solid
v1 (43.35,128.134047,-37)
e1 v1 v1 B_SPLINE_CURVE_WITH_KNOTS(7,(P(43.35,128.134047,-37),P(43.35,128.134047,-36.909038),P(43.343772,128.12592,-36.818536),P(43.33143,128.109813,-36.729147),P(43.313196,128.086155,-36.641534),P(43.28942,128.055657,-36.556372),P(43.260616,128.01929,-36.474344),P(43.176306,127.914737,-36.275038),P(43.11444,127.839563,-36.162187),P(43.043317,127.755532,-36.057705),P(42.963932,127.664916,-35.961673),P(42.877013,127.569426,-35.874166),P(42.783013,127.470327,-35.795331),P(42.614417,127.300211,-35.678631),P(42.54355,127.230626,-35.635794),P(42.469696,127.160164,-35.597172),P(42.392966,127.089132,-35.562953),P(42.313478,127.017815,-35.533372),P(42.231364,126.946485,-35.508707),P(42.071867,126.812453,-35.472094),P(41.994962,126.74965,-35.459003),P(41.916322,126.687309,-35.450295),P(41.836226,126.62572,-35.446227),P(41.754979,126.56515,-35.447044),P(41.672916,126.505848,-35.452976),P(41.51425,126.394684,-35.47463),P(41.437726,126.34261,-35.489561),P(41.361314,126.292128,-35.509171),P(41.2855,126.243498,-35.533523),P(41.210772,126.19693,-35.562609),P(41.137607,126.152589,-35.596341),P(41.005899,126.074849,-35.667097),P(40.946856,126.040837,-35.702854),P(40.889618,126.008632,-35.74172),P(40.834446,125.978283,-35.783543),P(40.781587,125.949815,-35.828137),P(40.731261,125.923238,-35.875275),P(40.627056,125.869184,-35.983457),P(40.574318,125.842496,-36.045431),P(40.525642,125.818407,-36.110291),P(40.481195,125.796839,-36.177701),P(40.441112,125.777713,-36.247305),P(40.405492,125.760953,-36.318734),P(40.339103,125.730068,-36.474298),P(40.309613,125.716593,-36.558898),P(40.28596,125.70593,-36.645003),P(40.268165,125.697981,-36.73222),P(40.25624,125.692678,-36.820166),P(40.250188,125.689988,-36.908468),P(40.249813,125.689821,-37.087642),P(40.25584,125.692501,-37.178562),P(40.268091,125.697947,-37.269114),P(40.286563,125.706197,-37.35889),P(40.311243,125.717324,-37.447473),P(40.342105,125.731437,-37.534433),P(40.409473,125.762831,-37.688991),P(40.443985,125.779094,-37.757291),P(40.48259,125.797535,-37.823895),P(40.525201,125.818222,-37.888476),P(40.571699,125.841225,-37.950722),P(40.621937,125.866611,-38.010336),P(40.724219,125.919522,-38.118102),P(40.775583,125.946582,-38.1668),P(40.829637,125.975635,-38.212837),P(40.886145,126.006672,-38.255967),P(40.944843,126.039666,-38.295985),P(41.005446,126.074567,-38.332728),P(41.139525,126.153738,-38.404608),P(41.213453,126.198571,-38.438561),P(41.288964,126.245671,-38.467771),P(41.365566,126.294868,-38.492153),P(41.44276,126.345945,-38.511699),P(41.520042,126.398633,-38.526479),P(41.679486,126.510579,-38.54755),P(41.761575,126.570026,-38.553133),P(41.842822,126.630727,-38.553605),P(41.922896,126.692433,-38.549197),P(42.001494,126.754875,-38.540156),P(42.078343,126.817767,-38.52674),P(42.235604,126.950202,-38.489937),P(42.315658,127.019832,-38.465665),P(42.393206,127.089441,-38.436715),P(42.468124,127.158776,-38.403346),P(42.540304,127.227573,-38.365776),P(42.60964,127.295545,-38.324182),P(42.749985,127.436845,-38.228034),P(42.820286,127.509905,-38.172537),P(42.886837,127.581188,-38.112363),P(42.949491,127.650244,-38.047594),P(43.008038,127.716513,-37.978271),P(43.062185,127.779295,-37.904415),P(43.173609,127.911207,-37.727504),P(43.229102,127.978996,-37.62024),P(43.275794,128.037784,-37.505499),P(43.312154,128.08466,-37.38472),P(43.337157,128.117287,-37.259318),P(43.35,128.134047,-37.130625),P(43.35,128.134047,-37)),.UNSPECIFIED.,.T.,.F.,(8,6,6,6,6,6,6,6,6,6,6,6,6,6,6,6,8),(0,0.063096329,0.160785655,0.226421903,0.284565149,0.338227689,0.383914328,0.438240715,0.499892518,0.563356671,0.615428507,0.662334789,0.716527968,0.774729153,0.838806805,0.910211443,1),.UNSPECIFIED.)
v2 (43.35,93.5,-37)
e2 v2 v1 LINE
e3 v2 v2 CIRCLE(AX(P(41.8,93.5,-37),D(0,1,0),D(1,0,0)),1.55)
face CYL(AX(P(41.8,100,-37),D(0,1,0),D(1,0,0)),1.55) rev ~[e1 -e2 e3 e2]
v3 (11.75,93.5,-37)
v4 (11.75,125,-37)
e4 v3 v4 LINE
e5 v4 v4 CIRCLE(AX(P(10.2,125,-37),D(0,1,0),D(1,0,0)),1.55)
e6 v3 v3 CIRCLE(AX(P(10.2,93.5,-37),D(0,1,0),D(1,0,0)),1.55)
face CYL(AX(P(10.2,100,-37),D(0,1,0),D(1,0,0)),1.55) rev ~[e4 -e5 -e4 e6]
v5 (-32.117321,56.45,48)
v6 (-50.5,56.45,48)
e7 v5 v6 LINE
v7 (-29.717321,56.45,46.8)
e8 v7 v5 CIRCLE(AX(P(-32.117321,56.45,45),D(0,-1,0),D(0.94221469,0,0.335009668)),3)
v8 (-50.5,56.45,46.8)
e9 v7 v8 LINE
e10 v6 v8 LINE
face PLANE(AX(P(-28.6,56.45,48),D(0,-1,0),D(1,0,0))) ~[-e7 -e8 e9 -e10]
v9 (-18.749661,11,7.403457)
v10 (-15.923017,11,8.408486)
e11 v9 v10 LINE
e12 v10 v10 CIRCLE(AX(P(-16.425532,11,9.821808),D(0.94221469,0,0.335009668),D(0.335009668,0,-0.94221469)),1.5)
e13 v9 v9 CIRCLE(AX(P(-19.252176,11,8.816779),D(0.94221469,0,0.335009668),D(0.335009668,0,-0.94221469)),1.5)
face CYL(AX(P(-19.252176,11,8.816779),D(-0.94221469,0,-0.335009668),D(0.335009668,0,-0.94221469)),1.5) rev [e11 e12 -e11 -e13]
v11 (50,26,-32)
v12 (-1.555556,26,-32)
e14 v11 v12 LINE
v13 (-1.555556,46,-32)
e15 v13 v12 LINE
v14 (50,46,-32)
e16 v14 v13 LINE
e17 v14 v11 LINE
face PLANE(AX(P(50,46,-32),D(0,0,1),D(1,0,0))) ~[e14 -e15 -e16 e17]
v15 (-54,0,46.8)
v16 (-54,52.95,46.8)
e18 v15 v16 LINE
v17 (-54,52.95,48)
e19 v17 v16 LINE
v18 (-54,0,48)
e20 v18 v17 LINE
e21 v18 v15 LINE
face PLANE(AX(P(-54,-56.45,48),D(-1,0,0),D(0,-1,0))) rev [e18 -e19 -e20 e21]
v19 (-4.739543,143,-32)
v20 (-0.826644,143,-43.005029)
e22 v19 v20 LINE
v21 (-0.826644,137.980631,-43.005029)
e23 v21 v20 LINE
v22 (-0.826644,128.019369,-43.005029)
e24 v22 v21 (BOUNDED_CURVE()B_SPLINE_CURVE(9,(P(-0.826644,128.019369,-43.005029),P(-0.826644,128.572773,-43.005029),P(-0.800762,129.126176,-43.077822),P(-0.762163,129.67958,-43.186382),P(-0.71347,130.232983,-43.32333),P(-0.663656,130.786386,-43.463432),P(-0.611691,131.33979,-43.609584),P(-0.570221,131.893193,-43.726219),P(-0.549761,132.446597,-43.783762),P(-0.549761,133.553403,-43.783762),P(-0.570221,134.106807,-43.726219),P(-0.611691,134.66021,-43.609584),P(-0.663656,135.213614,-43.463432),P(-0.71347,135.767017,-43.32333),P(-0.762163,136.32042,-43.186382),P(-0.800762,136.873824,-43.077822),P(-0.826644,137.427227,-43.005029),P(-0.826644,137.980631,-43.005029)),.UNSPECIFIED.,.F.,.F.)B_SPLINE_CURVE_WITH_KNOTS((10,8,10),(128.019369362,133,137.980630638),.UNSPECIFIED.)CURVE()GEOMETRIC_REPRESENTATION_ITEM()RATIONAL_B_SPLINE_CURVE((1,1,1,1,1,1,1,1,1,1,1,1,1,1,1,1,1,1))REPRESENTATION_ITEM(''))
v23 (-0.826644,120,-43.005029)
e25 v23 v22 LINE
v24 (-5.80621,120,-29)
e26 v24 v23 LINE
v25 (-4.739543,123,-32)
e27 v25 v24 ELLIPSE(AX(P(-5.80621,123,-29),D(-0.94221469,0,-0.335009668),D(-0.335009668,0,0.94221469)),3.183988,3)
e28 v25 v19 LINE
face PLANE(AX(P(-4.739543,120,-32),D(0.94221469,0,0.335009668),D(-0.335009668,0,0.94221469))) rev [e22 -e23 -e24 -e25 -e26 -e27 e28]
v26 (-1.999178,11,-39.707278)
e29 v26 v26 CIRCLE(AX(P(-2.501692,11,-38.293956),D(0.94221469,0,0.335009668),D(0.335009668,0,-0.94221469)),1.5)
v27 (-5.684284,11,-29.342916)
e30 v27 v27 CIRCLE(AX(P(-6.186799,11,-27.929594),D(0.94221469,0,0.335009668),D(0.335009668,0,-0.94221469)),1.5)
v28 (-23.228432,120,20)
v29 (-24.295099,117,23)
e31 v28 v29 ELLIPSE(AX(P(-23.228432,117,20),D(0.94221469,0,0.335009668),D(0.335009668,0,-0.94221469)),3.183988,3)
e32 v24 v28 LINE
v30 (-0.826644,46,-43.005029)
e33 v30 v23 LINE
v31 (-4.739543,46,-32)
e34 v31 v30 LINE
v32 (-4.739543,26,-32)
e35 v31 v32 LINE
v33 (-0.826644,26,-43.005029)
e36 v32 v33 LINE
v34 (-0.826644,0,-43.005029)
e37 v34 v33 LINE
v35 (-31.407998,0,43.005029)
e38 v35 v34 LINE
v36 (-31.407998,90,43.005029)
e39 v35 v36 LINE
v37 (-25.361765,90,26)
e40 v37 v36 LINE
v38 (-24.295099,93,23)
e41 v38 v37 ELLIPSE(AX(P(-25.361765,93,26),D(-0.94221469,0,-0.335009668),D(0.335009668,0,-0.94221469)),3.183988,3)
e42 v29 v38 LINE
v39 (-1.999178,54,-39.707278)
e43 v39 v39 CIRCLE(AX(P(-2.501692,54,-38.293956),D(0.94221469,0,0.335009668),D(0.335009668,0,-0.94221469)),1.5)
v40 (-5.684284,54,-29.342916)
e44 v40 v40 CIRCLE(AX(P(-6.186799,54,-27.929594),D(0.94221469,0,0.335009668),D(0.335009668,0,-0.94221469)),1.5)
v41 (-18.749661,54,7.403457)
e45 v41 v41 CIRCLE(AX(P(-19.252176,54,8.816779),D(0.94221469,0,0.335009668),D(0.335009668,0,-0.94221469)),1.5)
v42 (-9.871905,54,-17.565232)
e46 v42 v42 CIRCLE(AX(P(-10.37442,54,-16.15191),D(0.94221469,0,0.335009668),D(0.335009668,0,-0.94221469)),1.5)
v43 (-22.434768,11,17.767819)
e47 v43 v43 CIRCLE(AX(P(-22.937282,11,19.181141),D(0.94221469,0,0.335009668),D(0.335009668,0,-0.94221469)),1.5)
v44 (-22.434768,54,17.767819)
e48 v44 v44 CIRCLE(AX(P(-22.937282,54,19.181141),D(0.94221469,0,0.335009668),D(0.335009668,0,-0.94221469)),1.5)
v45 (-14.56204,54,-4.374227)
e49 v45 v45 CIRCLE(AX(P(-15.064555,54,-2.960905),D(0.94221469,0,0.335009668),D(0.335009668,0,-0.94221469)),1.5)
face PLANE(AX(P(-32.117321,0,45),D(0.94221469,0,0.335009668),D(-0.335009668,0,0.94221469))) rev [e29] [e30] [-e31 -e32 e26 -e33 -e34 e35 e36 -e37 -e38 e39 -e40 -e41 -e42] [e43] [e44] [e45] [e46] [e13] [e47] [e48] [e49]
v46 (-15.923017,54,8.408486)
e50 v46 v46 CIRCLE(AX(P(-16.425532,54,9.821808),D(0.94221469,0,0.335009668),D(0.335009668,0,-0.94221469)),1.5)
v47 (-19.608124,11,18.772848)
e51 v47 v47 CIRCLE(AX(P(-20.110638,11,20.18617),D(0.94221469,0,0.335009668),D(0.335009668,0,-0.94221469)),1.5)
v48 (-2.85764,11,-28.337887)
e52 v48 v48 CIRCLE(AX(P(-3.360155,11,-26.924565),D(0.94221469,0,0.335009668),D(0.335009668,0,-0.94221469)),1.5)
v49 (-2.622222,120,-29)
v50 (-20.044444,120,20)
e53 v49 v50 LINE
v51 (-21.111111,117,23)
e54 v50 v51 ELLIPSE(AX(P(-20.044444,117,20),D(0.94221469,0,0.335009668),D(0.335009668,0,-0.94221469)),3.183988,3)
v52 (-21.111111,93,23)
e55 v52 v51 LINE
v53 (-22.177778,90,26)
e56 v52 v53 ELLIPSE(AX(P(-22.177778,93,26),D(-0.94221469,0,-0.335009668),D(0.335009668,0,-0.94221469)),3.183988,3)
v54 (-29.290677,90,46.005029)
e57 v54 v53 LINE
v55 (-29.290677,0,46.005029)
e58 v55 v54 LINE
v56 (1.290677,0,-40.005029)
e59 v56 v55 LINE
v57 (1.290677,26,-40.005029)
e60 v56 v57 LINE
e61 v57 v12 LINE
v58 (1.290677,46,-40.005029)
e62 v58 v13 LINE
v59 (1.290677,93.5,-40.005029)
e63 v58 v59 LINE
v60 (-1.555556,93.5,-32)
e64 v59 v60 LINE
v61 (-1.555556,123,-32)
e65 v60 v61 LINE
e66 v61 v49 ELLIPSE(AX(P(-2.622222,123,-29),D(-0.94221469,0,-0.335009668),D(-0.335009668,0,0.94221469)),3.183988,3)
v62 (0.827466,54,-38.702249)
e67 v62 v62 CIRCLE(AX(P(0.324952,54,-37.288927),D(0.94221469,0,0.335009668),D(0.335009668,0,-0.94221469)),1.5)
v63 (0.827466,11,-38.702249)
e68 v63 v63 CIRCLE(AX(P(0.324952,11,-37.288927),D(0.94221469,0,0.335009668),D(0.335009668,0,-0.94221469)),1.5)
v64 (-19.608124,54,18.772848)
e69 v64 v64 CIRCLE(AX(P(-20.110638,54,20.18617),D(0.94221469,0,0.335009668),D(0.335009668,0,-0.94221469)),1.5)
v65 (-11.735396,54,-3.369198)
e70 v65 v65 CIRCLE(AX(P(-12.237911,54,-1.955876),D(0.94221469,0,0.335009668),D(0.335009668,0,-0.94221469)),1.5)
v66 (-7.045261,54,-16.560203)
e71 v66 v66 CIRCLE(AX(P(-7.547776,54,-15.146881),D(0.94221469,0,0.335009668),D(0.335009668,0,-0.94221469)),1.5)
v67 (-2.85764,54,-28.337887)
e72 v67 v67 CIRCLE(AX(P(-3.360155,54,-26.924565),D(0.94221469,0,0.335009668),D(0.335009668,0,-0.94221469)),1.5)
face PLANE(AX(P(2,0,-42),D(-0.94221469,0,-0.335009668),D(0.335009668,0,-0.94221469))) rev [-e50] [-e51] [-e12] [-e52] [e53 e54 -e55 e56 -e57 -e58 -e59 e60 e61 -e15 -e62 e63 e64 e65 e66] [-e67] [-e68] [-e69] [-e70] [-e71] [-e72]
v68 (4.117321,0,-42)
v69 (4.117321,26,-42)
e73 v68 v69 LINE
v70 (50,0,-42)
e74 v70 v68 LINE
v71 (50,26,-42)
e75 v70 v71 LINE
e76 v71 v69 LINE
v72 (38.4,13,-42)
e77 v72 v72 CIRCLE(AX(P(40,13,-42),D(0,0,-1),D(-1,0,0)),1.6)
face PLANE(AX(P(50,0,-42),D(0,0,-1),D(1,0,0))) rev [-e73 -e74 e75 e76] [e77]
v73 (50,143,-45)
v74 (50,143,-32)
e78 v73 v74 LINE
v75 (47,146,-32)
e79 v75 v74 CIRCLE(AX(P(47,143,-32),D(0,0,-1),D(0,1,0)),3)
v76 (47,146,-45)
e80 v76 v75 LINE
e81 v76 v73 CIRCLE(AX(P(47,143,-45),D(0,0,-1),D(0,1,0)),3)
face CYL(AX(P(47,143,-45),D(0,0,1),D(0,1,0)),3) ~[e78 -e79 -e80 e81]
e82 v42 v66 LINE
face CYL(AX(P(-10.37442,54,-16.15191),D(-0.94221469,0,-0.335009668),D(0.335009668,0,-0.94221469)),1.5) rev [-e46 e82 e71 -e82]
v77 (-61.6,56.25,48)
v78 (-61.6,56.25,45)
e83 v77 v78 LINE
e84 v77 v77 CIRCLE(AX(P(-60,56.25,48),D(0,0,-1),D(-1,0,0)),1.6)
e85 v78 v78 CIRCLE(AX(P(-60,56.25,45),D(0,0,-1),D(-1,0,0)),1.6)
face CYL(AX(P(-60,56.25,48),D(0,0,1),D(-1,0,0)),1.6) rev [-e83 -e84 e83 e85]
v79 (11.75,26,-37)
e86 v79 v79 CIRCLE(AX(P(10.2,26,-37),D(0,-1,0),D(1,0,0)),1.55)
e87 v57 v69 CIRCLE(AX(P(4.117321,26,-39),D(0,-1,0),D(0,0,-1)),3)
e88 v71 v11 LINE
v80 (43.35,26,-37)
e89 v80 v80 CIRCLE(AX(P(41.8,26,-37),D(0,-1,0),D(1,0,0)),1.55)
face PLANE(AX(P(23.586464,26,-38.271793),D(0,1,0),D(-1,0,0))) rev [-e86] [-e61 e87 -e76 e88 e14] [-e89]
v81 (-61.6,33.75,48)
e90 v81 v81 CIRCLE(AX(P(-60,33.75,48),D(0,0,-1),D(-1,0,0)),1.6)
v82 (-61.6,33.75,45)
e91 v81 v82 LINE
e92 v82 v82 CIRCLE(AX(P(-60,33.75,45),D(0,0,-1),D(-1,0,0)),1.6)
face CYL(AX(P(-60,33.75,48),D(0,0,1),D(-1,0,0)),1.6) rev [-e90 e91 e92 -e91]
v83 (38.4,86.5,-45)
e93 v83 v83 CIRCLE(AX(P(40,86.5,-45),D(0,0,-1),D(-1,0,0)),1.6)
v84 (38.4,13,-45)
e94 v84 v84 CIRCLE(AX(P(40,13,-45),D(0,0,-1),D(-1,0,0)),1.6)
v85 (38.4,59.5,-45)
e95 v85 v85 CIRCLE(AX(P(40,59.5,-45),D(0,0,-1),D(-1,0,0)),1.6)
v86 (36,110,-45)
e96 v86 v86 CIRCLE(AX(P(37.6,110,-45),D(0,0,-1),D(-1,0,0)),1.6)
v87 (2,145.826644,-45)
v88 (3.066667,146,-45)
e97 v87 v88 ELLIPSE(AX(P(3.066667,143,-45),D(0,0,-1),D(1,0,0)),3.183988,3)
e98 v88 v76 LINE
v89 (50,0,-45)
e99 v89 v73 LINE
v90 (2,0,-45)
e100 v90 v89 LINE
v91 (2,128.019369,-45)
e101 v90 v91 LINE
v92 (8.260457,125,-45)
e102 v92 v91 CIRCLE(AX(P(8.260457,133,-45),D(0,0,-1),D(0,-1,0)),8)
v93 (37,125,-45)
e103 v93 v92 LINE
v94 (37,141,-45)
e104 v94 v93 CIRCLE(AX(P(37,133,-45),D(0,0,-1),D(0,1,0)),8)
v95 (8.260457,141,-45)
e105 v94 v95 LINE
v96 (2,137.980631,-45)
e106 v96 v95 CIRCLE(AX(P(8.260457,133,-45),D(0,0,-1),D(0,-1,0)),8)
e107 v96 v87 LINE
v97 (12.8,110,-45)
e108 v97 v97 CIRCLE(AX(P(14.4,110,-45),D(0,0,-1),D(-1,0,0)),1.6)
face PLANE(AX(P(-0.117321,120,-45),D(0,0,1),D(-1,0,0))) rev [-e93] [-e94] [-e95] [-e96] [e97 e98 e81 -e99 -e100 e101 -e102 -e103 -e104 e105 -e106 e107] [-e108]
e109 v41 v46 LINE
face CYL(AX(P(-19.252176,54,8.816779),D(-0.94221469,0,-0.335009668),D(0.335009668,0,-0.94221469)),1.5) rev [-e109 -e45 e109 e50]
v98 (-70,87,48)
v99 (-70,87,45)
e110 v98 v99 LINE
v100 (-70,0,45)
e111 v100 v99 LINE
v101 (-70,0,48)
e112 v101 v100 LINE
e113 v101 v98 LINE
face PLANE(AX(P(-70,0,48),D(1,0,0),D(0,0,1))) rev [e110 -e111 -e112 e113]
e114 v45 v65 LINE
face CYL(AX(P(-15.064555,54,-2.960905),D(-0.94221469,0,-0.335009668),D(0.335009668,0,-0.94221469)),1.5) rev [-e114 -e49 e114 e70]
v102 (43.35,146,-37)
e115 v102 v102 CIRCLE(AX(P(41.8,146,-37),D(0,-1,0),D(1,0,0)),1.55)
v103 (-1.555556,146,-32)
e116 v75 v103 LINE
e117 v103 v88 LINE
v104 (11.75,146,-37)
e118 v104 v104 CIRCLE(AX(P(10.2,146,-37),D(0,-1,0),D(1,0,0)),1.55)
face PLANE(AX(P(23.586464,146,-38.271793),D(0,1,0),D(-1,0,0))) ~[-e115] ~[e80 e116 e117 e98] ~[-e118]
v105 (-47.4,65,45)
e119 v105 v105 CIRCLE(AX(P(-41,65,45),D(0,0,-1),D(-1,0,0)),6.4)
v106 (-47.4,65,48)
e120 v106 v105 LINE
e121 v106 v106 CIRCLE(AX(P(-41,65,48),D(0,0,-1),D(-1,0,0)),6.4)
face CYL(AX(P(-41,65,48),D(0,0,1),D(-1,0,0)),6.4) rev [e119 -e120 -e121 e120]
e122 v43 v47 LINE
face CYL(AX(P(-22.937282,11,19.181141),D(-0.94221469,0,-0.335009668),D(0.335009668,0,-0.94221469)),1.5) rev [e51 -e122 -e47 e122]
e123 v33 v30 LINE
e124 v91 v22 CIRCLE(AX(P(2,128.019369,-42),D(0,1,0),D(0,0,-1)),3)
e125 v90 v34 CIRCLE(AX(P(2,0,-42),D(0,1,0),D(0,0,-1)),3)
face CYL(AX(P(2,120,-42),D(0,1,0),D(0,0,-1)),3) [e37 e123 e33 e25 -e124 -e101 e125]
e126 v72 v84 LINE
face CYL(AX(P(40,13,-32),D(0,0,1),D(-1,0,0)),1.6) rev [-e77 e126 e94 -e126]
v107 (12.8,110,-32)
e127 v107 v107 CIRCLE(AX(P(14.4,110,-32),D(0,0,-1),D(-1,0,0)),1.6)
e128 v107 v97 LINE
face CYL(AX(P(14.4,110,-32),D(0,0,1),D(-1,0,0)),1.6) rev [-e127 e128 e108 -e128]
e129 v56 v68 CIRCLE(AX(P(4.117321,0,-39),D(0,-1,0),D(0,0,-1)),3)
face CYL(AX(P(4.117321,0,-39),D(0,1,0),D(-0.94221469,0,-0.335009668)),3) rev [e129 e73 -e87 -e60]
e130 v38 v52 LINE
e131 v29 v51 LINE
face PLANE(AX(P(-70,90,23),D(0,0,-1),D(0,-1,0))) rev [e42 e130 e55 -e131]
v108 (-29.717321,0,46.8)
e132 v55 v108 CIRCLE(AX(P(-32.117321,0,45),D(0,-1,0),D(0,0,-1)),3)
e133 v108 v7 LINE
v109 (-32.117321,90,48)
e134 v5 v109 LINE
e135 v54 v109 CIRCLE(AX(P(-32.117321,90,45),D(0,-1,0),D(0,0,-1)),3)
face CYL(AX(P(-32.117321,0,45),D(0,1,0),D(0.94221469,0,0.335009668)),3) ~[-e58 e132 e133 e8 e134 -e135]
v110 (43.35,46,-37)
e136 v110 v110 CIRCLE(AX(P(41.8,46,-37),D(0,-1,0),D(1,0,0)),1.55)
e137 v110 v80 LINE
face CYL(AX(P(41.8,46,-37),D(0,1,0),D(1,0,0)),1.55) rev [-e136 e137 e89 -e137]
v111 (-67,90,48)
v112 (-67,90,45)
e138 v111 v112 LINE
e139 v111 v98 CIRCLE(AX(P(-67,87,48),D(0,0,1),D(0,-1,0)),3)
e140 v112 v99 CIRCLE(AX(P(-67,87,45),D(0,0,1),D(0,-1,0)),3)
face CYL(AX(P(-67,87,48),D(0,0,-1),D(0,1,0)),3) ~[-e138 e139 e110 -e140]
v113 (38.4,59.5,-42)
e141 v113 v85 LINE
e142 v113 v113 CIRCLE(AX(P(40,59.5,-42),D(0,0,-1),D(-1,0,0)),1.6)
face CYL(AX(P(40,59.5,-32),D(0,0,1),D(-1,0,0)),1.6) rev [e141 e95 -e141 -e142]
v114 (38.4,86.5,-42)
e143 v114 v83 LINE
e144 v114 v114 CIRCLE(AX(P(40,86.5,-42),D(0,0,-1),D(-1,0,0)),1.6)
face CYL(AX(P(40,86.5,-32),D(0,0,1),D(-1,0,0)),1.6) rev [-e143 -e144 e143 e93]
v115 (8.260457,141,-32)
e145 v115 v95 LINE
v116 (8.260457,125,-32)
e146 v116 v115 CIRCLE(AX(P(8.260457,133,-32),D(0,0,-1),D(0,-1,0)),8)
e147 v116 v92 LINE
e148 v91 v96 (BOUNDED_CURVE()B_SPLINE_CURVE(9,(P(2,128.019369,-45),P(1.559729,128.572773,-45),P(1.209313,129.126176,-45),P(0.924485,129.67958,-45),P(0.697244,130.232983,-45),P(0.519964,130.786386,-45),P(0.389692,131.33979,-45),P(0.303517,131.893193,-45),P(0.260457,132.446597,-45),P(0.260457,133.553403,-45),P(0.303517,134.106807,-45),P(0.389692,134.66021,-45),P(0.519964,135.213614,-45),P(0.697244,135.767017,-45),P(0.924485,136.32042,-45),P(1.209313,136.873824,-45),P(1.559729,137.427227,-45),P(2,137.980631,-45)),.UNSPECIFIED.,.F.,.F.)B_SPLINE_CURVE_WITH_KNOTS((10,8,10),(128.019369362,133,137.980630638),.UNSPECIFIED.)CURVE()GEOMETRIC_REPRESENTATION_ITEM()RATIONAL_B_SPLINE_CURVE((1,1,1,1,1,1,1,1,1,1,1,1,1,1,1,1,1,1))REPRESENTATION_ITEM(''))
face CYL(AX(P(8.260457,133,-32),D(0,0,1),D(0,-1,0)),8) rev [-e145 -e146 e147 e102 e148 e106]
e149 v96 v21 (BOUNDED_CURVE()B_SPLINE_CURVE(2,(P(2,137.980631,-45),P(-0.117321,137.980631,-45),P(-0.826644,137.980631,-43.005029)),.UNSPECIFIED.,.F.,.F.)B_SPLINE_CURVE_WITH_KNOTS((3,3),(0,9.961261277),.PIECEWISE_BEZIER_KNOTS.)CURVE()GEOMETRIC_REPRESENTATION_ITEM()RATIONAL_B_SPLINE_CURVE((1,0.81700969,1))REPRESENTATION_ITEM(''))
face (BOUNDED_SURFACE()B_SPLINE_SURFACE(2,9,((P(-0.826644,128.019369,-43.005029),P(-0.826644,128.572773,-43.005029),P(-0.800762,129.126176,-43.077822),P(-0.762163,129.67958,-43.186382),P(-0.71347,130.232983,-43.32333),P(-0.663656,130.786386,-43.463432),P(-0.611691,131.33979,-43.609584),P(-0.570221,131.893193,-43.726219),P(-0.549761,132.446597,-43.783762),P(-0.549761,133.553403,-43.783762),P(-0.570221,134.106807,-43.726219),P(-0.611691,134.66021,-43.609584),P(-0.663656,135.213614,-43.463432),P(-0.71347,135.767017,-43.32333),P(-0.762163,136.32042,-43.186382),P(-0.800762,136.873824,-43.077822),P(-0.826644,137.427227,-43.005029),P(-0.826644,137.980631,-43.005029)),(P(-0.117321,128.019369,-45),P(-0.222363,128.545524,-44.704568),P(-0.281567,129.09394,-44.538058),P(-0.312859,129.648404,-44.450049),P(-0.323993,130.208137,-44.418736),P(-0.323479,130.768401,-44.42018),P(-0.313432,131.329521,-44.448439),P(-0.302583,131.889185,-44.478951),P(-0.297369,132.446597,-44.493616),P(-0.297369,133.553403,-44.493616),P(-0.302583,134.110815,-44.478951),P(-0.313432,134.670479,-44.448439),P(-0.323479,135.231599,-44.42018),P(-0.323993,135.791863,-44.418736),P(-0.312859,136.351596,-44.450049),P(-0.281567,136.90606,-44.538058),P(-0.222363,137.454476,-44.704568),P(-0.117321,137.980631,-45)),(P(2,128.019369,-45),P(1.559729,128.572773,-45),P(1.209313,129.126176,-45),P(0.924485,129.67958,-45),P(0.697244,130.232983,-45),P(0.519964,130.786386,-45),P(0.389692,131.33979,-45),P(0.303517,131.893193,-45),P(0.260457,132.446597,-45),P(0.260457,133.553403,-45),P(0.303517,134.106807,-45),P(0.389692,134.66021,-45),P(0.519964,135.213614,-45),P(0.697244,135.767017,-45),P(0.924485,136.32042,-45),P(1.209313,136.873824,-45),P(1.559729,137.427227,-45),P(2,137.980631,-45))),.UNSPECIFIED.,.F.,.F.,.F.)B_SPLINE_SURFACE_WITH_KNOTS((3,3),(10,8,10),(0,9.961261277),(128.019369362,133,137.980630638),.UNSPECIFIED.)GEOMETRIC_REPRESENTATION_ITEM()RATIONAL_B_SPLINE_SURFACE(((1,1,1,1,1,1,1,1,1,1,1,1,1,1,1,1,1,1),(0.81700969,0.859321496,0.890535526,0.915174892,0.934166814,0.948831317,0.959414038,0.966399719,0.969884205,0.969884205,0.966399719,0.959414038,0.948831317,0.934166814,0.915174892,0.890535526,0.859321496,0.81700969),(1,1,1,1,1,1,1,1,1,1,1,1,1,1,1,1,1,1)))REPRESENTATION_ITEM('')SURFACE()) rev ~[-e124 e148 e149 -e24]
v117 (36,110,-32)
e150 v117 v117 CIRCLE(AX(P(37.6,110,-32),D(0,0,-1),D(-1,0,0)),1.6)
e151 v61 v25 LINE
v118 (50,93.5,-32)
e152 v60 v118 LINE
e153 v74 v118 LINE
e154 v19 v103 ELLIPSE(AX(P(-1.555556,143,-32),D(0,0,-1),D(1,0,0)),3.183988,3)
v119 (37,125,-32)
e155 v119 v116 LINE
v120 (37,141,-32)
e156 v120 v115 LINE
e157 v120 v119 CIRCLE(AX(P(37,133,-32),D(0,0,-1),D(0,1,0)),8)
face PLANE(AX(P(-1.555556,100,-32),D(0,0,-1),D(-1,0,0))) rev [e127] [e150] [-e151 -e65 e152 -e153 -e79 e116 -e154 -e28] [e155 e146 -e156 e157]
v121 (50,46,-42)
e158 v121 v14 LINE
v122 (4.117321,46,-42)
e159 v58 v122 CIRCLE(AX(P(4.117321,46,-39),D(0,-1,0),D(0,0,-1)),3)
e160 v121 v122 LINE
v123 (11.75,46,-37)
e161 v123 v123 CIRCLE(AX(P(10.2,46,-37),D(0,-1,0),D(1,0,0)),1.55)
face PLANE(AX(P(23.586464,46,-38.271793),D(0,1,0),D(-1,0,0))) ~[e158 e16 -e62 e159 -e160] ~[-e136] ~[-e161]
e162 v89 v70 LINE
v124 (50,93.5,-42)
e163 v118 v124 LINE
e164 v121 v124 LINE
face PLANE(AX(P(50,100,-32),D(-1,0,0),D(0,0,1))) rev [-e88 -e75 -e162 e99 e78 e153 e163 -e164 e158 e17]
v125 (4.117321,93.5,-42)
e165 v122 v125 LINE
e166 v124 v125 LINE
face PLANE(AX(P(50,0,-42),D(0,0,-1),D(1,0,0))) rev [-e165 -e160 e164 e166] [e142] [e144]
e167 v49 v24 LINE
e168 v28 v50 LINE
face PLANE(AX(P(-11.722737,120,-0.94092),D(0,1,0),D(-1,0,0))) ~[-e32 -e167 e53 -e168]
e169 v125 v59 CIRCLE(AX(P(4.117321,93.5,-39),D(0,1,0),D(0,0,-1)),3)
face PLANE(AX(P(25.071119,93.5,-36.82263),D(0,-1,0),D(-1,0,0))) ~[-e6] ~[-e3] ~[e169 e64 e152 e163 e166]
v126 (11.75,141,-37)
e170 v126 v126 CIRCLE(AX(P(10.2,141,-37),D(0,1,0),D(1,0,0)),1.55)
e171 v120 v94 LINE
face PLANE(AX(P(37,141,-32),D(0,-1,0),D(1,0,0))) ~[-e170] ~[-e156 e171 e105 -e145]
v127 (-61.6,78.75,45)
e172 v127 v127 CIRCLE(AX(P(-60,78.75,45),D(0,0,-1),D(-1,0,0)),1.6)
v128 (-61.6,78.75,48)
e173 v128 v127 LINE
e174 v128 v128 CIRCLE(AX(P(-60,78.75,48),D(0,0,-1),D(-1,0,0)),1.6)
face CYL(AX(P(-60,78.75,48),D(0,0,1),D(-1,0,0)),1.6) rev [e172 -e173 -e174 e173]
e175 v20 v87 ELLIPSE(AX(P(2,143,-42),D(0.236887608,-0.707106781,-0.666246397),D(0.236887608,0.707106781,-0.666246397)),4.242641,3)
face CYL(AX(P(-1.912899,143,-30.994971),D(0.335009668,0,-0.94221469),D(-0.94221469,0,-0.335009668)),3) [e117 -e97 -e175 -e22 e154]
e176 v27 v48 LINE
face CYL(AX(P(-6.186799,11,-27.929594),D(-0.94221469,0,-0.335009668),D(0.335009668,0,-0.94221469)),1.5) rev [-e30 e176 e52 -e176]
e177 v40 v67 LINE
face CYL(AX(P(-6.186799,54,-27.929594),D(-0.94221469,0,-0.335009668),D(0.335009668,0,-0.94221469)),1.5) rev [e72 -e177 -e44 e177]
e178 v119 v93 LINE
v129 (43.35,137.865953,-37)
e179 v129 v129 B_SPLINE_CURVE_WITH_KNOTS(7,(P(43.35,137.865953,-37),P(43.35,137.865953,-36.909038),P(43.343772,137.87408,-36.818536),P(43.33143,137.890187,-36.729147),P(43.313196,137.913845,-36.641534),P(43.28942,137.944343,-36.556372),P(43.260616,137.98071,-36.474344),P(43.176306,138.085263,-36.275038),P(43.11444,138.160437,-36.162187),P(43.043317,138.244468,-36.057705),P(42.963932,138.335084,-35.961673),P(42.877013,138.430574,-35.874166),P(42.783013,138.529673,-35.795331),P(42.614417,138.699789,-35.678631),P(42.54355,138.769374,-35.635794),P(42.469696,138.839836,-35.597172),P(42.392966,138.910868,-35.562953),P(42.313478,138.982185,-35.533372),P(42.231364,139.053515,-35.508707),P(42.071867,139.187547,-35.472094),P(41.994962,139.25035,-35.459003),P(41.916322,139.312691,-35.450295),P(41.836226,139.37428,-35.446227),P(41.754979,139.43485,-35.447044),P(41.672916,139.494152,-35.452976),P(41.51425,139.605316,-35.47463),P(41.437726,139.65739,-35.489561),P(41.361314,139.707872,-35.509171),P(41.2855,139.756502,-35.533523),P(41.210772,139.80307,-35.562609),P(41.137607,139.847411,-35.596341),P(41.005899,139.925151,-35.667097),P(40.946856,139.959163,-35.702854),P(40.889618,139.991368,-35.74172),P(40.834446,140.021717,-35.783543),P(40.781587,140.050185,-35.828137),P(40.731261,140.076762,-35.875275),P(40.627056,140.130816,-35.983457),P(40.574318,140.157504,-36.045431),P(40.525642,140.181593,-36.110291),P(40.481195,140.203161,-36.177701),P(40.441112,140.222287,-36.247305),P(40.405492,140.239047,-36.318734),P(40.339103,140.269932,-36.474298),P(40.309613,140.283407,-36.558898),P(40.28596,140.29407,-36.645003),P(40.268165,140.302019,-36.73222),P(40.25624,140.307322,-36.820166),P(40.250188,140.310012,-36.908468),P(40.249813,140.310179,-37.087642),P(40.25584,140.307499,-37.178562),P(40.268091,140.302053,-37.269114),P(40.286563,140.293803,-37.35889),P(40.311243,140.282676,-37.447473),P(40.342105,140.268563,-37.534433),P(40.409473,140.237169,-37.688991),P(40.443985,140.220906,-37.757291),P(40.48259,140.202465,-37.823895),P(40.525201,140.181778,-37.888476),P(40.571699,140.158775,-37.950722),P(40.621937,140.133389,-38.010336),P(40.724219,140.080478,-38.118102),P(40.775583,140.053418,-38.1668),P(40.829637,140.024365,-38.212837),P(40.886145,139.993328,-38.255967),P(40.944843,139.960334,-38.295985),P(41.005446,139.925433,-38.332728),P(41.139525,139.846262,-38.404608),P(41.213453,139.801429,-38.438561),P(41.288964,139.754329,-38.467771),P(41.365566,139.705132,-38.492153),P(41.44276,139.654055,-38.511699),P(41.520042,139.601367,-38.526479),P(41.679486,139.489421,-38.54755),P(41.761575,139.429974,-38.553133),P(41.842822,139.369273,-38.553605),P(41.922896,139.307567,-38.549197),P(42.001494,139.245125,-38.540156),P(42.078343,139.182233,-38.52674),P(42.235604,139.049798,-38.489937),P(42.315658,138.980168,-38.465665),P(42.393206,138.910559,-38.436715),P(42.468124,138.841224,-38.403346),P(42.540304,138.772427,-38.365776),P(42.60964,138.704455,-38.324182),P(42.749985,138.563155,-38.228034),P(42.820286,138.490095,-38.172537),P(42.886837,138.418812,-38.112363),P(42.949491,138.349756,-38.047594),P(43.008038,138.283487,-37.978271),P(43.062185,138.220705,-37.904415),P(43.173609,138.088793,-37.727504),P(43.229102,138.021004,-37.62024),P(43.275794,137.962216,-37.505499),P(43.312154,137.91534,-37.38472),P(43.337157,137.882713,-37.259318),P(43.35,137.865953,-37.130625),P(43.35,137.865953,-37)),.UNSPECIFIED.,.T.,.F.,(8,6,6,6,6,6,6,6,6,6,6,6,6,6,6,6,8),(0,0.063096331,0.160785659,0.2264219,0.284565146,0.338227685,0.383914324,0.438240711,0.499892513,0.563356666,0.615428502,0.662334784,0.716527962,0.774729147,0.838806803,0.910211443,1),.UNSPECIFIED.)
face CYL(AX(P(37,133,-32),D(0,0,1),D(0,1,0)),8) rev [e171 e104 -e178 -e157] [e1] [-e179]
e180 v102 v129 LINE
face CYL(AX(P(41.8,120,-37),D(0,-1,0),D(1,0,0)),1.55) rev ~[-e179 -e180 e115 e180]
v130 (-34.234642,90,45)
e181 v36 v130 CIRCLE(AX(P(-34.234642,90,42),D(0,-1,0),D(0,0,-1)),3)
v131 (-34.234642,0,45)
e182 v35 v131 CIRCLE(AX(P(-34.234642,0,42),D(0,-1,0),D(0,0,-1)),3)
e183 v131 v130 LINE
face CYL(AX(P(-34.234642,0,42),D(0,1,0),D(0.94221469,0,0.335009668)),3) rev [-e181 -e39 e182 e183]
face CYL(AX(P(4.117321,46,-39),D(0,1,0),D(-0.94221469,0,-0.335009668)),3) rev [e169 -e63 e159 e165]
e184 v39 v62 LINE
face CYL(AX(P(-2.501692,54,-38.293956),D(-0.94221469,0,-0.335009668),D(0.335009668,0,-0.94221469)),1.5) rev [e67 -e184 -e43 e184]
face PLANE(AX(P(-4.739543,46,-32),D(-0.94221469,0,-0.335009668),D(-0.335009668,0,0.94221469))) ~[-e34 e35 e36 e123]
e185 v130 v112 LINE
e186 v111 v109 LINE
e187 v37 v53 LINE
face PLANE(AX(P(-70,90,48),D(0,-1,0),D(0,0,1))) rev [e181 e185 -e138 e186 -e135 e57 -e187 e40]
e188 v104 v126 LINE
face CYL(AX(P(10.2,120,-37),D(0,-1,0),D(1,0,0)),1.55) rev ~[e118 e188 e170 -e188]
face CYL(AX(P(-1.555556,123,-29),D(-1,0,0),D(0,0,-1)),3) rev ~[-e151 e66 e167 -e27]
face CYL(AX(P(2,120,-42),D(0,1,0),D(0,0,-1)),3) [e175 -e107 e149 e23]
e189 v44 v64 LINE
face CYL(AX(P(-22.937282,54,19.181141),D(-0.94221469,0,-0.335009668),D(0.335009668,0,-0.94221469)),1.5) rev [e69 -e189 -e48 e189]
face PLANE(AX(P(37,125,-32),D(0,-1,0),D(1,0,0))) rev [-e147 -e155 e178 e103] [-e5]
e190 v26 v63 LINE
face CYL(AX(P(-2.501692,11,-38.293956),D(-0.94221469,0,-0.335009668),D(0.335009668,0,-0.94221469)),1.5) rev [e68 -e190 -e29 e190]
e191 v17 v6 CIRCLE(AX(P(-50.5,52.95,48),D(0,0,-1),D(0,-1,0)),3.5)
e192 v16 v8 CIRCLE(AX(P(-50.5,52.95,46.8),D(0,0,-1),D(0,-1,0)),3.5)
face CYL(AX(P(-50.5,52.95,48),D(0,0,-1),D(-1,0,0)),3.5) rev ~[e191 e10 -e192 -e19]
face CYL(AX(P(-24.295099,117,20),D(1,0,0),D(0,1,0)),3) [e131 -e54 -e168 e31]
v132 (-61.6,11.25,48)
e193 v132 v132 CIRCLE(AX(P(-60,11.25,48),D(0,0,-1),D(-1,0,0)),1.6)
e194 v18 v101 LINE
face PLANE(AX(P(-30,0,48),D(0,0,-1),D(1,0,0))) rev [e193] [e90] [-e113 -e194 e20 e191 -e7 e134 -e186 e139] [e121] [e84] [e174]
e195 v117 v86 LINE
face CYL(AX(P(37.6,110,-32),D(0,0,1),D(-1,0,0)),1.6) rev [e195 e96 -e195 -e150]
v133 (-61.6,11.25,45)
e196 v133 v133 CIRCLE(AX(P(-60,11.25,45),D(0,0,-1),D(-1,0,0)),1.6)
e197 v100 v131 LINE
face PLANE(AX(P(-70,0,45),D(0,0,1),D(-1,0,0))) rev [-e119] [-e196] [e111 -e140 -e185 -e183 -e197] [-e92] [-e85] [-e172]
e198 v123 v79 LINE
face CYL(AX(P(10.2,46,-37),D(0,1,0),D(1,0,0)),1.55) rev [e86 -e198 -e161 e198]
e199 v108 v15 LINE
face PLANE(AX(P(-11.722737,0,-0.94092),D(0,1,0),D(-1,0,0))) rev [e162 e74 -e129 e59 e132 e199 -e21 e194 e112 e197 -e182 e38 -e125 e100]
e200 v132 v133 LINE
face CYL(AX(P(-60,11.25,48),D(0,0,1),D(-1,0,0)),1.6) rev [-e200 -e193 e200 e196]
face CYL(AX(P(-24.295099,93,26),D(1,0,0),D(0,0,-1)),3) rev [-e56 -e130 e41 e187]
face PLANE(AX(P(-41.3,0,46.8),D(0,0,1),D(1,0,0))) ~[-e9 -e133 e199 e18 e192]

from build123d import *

# Parameters (mm, degrees)
PAD_DEPTH           = 120
SKETCH_R            = 1.55
PAD001_DEPTH        = 20
LINEARPATTERN_COUNT = 2
LINEARPATTERN_PITCH = 74
SKETCH002_W         = 25
SKETCH002_H         = 30
POCKET_DEPTH        = 120.001
SKETCH003_R         = 1.6
POCKET001_DEPTH     = 13.001
SKETCH004_R         = 1.6
POCKET002_DEPTH     = 13
SKETCH005_R         = 1.6
POCKET003_DEPTH     = 93.001
SKETCH006_R         = 1.55
PAD002_DEPTH        = 26
POCKET004_DEPTH     = 13.001
FILLET_R            = 3
FILLET_FACE44_R     = 1.55
PAD003_DEPTH        = 6.5
SKETCH008_R         = 6.4
POCKET005_DEPTH     = 3
SKETCH009_R         = 1.5
POCKET006_DEPTH     = 5
SKETCH010_W         = 25.4
SKETCH010_H         = 112.9
POCKET007_DEPTH     = 1.2
FILLET001_R         = 3.5


with BuildPart() as body001:
    # Sketch001 → Pad (new body)
    with BuildSketch(Plane.XZ):
        Polygon((-70, 45), (-32.1173210497, 45), (-0.1173210497, -45), (50, -45), (50, -42), (2, -42), (-30, 48), (-70, 48), align=None)
    extrude(amount=PAD_DEPTH)

    # Sketch (on Face10 of Pad) → Pad001 (join)
    with BuildSketch(Plane.XZ.offset(120)):
        Polygon((50, -45), (50, -32), (-4.7395432719, -32), (-0.1173210497, -45), align=None)
        with Locations((10.2, -37)):
            Circle(SKETCH_R, mode=Mode.SUBTRACT)
        with Locations((41.8, -37)):
            Circle(SKETCH_R, mode=Mode.SUBTRACT)
    pad001 = extrude(amount=-PAD001_DEPTH)

    # LinearPattern: Pad001 ×2
    with Locations(*[(0, i * LINEARPATTERN_PITCH, 0) for i in range(1, LINEARPATTERN_COUNT)]):
        add(pad001)

    # Sketch002 (on Face2 of LinearPattern) → Pocket (cut, through all)
    with BuildSketch(Plane(origin=(-70, 0, 0), x_dir=(0, 0, -1), z_dir=(-1, 0, 0))):
        with Locations((-35.5, 105)):
            Rectangle(SKETCH002_W, SKETCH002_H)
    extrude(amount=-POCKET_DEPTH, mode=Mode.SUBTRACT)

    # Sketch003 (on Face18 of Pocket) → Pocket001 (cut, through all)
    with BuildSketch(Plane(origin=(0, 0, -32), x_dir=(-1, 0, 0), z_dir=(0, 0, 1))):
        with Locations((-37.6, 110)):
            Circle(SKETCH003_R)
        with Locations((-14.4, 110)):
            Circle(SKETCH003_R)
    extrude(amount=-POCKET001_DEPTH, mode=Mode.SUBTRACT)

    # Sketch004 (on Face16 of Pocket001) → Pocket002 (cut)
    with BuildSketch(Plane(origin=(0, 0, -32), x_dir=(-1, 0, 0), z_dir=(0, 0, 1))):
        with Locations((-40, 13)):
            Circle(SKETCH004_R)
        with Locations((-40, 86.5)):
            Circle(SKETCH004_R)
        with Locations((-40, 59.5)):
            Circle(SKETCH004_R)
    extrude(amount=-POCKET002_DEPTH, mode=Mode.SUBTRACT)

    # Sketch005 (on Face10 of Pocket002) → Pocket003 (cut, through all)
    with BuildSketch(Plane(origin=(0, 0, 48), x_dir=(-1, 0, 0), z_dir=(0, 0, 1))):
        with Locations((60, 56.25)):
            Circle(SKETCH005_R)
        with Locations((60, 33.75)):
            Circle(SKETCH005_R)
        with Locations((60, 78.75)):
            Circle(SKETCH005_R)
        with Locations((60, 11.25)):
            Circle(SKETCH005_R)
    extrude(amount=-POCKET003_DEPTH, mode=Mode.SUBTRACT)

    # Sketch006 (on Face16 of Pocket003) → Pad002 (join)
    with BuildSketch(Plane.XZ.offset(120)):
        Polygon((-4.7395432719, -32), (-0.1173210497, -45), (50, -45), (50, -32), align=None)
        with Locations((10.2, -37)):
            Circle(SKETCH006_R, mode=Mode.SUBTRACT)
        with Locations((41.8, -37)):
            Circle(SKETCH006_R, mode=Mode.SUBTRACT)
    extrude(amount=PAD002_DEPTH)

    # Sketch007 (on Face30 of Pad002) → Pocket004 (cut, through all)
    with BuildSketch(Plane(origin=(0, 0, -32), x_dir=(-1, 0, 0), z_dir=(0, 0, 1))):
        with BuildLine():
            ThreePointArc((-37, 141), (-45, 133), (-37, 125))
            Line((-37, 125), (-8.2604567281, 125))
            ThreePointArc((-8.2604567281, 125), (-0.2604567281, 133), (-8.2604567281, 141))
            Line((-37, 141), (-8.2604567281, 141))
        make_face()
    extrude(amount=-POCKET004_DEPTH, mode=Mode.SUBTRACT)

    # Fillet
    fillet_edges = [body001.edges().sort_by_distance(p)[0] for p in [
        (-70, -90, 46.5),
        (-22.703105, -90, 23),
        (-22.703105, -120, 23),
        (-2.428432, -146, -38.5),
        (-3.147549, -120, -32),
        (50, -146, -38.5),
        (2, -73, -42),
        (2, -13, -42),
        (-30, -45, 48),
        (-32.117321, -45, 45),
        (-0.117321, -73, -45),
    ]]
    fillet(fillet_edges, radius=FILLET_R)

    # Fillet Face44 → Pad003 (add)
    with BuildSketch(Plane(origin=(25.1111807408, -100, -36.9307209513), x_dir=(1, 0, 0), z_dir=(0, 1, 0))):
        with BuildLine():
            Line((-23.8205037619, 3.0743080517), (-26.6667362963, -4.9307209513))
            Line((-26.6667362963, -4.9307209513), (24.8888192592, -4.9307209513))
            Line((24.8888192592, -4.9307209513), (24.8888192592, 5.0692790487))
            Line((24.8888192592, 5.0692790487), (-20.9938596911, 5.0692790487))
            ThreePointArc((-20.9938596911, 5.0692790487), (-22.7237315059, 4.5203081192), (-23.8205037619, 3.0743080517))
        make_face()
        with Locations((-14.9111807408, 0.0692790487)):
            Circle(FILLET_FACE44_R, mode=Mode.SUBTRACT)
        with Locations((16.6888192592, 0.0692790487)):
            Circle(FILLET_FACE44_R, mode=Mode.SUBTRACT)
    extrude(amount=PAD003_DEPTH)

    # Sketch008 (on Face12 of Pad003) → Pocket005 (cut)
    with BuildSketch(Plane(origin=(0, 0, 48), x_dir=(-1, 0, 0), z_dir=(0, 0, 1))):
        with Locations((41, 65)):
            Circle(SKETCH008_R)
    extrude(amount=-POCKET005_DEPTH, mode=Mode.SUBTRACT)

    # Sketch009 (on Face12 of Pocket005) → Pocket006 (cut)
    with BuildSketch(Plane(origin=(-14.3084502962, 0, -5.0874489942), x_dir=(0.3350096677, 0, -0.9422146903), z_dir=(-0.9422146903, 0, -0.3350096677))):
        with Locations((-25.756963673, 54)):
            Circle(SKETCH009_R)
        with Locations((35.243036327, 54)):
            Circle(SKETCH009_R)
        with Locations((24.243036327, 54)):
            Circle(SKETCH009_R)
        with Locations((-14.756963673, 54)):
            Circle(SKETCH009_R)
        with Locations((-14.756963673, 11)):
            Circle(SKETCH009_R)
        with Locations((24.243036327, 11)):
            Circle(SKETCH009_R)
        with Locations((35.243036327, 11)):
            Circle(SKETCH009_R)
        with Locations((-25.756963673, 11)):
            Circle(SKETCH009_R)
        with Locations((-2.256963673, 54)):
            Circle(SKETCH009_R)
        with Locations((11.743036327, 54)):
            Circle(SKETCH009_R)
    extrude(amount=-POCKET006_DEPTH, mode=Mode.SUBTRACT)

    # Sketch010 (on Face13 of Pocket006) → Pocket007 (cut)
    with BuildSketch(Plane(origin=(0, 0, 48), x_dir=(-1, 0, 0), z_dir=(0, 0, 1))):
        with Locations((41.3, 0)):
            Rectangle(SKETCH010_W, SKETCH010_H)
    extrude(amount=-POCKET007_DEPTH, mode=Mode.SUBTRACT)

    # Fillet001
    fillet001_edges = [body001.edges().sort_by_distance(p)[0] for p in [
        (-54, -56.45, 47.4),
    ]]
    fillet(fillet001_edges, radius=FILLET001_R)


with BuildPart() as part_mirroring:
    # Part__Mirroring: instance of Body001
    add(body001.part.mirror(Plane(origin=(0, 0, 0), x_dir=(1, 0, 0), z_dir=(0, 1, 0))))


solid = part_mirroring.part
